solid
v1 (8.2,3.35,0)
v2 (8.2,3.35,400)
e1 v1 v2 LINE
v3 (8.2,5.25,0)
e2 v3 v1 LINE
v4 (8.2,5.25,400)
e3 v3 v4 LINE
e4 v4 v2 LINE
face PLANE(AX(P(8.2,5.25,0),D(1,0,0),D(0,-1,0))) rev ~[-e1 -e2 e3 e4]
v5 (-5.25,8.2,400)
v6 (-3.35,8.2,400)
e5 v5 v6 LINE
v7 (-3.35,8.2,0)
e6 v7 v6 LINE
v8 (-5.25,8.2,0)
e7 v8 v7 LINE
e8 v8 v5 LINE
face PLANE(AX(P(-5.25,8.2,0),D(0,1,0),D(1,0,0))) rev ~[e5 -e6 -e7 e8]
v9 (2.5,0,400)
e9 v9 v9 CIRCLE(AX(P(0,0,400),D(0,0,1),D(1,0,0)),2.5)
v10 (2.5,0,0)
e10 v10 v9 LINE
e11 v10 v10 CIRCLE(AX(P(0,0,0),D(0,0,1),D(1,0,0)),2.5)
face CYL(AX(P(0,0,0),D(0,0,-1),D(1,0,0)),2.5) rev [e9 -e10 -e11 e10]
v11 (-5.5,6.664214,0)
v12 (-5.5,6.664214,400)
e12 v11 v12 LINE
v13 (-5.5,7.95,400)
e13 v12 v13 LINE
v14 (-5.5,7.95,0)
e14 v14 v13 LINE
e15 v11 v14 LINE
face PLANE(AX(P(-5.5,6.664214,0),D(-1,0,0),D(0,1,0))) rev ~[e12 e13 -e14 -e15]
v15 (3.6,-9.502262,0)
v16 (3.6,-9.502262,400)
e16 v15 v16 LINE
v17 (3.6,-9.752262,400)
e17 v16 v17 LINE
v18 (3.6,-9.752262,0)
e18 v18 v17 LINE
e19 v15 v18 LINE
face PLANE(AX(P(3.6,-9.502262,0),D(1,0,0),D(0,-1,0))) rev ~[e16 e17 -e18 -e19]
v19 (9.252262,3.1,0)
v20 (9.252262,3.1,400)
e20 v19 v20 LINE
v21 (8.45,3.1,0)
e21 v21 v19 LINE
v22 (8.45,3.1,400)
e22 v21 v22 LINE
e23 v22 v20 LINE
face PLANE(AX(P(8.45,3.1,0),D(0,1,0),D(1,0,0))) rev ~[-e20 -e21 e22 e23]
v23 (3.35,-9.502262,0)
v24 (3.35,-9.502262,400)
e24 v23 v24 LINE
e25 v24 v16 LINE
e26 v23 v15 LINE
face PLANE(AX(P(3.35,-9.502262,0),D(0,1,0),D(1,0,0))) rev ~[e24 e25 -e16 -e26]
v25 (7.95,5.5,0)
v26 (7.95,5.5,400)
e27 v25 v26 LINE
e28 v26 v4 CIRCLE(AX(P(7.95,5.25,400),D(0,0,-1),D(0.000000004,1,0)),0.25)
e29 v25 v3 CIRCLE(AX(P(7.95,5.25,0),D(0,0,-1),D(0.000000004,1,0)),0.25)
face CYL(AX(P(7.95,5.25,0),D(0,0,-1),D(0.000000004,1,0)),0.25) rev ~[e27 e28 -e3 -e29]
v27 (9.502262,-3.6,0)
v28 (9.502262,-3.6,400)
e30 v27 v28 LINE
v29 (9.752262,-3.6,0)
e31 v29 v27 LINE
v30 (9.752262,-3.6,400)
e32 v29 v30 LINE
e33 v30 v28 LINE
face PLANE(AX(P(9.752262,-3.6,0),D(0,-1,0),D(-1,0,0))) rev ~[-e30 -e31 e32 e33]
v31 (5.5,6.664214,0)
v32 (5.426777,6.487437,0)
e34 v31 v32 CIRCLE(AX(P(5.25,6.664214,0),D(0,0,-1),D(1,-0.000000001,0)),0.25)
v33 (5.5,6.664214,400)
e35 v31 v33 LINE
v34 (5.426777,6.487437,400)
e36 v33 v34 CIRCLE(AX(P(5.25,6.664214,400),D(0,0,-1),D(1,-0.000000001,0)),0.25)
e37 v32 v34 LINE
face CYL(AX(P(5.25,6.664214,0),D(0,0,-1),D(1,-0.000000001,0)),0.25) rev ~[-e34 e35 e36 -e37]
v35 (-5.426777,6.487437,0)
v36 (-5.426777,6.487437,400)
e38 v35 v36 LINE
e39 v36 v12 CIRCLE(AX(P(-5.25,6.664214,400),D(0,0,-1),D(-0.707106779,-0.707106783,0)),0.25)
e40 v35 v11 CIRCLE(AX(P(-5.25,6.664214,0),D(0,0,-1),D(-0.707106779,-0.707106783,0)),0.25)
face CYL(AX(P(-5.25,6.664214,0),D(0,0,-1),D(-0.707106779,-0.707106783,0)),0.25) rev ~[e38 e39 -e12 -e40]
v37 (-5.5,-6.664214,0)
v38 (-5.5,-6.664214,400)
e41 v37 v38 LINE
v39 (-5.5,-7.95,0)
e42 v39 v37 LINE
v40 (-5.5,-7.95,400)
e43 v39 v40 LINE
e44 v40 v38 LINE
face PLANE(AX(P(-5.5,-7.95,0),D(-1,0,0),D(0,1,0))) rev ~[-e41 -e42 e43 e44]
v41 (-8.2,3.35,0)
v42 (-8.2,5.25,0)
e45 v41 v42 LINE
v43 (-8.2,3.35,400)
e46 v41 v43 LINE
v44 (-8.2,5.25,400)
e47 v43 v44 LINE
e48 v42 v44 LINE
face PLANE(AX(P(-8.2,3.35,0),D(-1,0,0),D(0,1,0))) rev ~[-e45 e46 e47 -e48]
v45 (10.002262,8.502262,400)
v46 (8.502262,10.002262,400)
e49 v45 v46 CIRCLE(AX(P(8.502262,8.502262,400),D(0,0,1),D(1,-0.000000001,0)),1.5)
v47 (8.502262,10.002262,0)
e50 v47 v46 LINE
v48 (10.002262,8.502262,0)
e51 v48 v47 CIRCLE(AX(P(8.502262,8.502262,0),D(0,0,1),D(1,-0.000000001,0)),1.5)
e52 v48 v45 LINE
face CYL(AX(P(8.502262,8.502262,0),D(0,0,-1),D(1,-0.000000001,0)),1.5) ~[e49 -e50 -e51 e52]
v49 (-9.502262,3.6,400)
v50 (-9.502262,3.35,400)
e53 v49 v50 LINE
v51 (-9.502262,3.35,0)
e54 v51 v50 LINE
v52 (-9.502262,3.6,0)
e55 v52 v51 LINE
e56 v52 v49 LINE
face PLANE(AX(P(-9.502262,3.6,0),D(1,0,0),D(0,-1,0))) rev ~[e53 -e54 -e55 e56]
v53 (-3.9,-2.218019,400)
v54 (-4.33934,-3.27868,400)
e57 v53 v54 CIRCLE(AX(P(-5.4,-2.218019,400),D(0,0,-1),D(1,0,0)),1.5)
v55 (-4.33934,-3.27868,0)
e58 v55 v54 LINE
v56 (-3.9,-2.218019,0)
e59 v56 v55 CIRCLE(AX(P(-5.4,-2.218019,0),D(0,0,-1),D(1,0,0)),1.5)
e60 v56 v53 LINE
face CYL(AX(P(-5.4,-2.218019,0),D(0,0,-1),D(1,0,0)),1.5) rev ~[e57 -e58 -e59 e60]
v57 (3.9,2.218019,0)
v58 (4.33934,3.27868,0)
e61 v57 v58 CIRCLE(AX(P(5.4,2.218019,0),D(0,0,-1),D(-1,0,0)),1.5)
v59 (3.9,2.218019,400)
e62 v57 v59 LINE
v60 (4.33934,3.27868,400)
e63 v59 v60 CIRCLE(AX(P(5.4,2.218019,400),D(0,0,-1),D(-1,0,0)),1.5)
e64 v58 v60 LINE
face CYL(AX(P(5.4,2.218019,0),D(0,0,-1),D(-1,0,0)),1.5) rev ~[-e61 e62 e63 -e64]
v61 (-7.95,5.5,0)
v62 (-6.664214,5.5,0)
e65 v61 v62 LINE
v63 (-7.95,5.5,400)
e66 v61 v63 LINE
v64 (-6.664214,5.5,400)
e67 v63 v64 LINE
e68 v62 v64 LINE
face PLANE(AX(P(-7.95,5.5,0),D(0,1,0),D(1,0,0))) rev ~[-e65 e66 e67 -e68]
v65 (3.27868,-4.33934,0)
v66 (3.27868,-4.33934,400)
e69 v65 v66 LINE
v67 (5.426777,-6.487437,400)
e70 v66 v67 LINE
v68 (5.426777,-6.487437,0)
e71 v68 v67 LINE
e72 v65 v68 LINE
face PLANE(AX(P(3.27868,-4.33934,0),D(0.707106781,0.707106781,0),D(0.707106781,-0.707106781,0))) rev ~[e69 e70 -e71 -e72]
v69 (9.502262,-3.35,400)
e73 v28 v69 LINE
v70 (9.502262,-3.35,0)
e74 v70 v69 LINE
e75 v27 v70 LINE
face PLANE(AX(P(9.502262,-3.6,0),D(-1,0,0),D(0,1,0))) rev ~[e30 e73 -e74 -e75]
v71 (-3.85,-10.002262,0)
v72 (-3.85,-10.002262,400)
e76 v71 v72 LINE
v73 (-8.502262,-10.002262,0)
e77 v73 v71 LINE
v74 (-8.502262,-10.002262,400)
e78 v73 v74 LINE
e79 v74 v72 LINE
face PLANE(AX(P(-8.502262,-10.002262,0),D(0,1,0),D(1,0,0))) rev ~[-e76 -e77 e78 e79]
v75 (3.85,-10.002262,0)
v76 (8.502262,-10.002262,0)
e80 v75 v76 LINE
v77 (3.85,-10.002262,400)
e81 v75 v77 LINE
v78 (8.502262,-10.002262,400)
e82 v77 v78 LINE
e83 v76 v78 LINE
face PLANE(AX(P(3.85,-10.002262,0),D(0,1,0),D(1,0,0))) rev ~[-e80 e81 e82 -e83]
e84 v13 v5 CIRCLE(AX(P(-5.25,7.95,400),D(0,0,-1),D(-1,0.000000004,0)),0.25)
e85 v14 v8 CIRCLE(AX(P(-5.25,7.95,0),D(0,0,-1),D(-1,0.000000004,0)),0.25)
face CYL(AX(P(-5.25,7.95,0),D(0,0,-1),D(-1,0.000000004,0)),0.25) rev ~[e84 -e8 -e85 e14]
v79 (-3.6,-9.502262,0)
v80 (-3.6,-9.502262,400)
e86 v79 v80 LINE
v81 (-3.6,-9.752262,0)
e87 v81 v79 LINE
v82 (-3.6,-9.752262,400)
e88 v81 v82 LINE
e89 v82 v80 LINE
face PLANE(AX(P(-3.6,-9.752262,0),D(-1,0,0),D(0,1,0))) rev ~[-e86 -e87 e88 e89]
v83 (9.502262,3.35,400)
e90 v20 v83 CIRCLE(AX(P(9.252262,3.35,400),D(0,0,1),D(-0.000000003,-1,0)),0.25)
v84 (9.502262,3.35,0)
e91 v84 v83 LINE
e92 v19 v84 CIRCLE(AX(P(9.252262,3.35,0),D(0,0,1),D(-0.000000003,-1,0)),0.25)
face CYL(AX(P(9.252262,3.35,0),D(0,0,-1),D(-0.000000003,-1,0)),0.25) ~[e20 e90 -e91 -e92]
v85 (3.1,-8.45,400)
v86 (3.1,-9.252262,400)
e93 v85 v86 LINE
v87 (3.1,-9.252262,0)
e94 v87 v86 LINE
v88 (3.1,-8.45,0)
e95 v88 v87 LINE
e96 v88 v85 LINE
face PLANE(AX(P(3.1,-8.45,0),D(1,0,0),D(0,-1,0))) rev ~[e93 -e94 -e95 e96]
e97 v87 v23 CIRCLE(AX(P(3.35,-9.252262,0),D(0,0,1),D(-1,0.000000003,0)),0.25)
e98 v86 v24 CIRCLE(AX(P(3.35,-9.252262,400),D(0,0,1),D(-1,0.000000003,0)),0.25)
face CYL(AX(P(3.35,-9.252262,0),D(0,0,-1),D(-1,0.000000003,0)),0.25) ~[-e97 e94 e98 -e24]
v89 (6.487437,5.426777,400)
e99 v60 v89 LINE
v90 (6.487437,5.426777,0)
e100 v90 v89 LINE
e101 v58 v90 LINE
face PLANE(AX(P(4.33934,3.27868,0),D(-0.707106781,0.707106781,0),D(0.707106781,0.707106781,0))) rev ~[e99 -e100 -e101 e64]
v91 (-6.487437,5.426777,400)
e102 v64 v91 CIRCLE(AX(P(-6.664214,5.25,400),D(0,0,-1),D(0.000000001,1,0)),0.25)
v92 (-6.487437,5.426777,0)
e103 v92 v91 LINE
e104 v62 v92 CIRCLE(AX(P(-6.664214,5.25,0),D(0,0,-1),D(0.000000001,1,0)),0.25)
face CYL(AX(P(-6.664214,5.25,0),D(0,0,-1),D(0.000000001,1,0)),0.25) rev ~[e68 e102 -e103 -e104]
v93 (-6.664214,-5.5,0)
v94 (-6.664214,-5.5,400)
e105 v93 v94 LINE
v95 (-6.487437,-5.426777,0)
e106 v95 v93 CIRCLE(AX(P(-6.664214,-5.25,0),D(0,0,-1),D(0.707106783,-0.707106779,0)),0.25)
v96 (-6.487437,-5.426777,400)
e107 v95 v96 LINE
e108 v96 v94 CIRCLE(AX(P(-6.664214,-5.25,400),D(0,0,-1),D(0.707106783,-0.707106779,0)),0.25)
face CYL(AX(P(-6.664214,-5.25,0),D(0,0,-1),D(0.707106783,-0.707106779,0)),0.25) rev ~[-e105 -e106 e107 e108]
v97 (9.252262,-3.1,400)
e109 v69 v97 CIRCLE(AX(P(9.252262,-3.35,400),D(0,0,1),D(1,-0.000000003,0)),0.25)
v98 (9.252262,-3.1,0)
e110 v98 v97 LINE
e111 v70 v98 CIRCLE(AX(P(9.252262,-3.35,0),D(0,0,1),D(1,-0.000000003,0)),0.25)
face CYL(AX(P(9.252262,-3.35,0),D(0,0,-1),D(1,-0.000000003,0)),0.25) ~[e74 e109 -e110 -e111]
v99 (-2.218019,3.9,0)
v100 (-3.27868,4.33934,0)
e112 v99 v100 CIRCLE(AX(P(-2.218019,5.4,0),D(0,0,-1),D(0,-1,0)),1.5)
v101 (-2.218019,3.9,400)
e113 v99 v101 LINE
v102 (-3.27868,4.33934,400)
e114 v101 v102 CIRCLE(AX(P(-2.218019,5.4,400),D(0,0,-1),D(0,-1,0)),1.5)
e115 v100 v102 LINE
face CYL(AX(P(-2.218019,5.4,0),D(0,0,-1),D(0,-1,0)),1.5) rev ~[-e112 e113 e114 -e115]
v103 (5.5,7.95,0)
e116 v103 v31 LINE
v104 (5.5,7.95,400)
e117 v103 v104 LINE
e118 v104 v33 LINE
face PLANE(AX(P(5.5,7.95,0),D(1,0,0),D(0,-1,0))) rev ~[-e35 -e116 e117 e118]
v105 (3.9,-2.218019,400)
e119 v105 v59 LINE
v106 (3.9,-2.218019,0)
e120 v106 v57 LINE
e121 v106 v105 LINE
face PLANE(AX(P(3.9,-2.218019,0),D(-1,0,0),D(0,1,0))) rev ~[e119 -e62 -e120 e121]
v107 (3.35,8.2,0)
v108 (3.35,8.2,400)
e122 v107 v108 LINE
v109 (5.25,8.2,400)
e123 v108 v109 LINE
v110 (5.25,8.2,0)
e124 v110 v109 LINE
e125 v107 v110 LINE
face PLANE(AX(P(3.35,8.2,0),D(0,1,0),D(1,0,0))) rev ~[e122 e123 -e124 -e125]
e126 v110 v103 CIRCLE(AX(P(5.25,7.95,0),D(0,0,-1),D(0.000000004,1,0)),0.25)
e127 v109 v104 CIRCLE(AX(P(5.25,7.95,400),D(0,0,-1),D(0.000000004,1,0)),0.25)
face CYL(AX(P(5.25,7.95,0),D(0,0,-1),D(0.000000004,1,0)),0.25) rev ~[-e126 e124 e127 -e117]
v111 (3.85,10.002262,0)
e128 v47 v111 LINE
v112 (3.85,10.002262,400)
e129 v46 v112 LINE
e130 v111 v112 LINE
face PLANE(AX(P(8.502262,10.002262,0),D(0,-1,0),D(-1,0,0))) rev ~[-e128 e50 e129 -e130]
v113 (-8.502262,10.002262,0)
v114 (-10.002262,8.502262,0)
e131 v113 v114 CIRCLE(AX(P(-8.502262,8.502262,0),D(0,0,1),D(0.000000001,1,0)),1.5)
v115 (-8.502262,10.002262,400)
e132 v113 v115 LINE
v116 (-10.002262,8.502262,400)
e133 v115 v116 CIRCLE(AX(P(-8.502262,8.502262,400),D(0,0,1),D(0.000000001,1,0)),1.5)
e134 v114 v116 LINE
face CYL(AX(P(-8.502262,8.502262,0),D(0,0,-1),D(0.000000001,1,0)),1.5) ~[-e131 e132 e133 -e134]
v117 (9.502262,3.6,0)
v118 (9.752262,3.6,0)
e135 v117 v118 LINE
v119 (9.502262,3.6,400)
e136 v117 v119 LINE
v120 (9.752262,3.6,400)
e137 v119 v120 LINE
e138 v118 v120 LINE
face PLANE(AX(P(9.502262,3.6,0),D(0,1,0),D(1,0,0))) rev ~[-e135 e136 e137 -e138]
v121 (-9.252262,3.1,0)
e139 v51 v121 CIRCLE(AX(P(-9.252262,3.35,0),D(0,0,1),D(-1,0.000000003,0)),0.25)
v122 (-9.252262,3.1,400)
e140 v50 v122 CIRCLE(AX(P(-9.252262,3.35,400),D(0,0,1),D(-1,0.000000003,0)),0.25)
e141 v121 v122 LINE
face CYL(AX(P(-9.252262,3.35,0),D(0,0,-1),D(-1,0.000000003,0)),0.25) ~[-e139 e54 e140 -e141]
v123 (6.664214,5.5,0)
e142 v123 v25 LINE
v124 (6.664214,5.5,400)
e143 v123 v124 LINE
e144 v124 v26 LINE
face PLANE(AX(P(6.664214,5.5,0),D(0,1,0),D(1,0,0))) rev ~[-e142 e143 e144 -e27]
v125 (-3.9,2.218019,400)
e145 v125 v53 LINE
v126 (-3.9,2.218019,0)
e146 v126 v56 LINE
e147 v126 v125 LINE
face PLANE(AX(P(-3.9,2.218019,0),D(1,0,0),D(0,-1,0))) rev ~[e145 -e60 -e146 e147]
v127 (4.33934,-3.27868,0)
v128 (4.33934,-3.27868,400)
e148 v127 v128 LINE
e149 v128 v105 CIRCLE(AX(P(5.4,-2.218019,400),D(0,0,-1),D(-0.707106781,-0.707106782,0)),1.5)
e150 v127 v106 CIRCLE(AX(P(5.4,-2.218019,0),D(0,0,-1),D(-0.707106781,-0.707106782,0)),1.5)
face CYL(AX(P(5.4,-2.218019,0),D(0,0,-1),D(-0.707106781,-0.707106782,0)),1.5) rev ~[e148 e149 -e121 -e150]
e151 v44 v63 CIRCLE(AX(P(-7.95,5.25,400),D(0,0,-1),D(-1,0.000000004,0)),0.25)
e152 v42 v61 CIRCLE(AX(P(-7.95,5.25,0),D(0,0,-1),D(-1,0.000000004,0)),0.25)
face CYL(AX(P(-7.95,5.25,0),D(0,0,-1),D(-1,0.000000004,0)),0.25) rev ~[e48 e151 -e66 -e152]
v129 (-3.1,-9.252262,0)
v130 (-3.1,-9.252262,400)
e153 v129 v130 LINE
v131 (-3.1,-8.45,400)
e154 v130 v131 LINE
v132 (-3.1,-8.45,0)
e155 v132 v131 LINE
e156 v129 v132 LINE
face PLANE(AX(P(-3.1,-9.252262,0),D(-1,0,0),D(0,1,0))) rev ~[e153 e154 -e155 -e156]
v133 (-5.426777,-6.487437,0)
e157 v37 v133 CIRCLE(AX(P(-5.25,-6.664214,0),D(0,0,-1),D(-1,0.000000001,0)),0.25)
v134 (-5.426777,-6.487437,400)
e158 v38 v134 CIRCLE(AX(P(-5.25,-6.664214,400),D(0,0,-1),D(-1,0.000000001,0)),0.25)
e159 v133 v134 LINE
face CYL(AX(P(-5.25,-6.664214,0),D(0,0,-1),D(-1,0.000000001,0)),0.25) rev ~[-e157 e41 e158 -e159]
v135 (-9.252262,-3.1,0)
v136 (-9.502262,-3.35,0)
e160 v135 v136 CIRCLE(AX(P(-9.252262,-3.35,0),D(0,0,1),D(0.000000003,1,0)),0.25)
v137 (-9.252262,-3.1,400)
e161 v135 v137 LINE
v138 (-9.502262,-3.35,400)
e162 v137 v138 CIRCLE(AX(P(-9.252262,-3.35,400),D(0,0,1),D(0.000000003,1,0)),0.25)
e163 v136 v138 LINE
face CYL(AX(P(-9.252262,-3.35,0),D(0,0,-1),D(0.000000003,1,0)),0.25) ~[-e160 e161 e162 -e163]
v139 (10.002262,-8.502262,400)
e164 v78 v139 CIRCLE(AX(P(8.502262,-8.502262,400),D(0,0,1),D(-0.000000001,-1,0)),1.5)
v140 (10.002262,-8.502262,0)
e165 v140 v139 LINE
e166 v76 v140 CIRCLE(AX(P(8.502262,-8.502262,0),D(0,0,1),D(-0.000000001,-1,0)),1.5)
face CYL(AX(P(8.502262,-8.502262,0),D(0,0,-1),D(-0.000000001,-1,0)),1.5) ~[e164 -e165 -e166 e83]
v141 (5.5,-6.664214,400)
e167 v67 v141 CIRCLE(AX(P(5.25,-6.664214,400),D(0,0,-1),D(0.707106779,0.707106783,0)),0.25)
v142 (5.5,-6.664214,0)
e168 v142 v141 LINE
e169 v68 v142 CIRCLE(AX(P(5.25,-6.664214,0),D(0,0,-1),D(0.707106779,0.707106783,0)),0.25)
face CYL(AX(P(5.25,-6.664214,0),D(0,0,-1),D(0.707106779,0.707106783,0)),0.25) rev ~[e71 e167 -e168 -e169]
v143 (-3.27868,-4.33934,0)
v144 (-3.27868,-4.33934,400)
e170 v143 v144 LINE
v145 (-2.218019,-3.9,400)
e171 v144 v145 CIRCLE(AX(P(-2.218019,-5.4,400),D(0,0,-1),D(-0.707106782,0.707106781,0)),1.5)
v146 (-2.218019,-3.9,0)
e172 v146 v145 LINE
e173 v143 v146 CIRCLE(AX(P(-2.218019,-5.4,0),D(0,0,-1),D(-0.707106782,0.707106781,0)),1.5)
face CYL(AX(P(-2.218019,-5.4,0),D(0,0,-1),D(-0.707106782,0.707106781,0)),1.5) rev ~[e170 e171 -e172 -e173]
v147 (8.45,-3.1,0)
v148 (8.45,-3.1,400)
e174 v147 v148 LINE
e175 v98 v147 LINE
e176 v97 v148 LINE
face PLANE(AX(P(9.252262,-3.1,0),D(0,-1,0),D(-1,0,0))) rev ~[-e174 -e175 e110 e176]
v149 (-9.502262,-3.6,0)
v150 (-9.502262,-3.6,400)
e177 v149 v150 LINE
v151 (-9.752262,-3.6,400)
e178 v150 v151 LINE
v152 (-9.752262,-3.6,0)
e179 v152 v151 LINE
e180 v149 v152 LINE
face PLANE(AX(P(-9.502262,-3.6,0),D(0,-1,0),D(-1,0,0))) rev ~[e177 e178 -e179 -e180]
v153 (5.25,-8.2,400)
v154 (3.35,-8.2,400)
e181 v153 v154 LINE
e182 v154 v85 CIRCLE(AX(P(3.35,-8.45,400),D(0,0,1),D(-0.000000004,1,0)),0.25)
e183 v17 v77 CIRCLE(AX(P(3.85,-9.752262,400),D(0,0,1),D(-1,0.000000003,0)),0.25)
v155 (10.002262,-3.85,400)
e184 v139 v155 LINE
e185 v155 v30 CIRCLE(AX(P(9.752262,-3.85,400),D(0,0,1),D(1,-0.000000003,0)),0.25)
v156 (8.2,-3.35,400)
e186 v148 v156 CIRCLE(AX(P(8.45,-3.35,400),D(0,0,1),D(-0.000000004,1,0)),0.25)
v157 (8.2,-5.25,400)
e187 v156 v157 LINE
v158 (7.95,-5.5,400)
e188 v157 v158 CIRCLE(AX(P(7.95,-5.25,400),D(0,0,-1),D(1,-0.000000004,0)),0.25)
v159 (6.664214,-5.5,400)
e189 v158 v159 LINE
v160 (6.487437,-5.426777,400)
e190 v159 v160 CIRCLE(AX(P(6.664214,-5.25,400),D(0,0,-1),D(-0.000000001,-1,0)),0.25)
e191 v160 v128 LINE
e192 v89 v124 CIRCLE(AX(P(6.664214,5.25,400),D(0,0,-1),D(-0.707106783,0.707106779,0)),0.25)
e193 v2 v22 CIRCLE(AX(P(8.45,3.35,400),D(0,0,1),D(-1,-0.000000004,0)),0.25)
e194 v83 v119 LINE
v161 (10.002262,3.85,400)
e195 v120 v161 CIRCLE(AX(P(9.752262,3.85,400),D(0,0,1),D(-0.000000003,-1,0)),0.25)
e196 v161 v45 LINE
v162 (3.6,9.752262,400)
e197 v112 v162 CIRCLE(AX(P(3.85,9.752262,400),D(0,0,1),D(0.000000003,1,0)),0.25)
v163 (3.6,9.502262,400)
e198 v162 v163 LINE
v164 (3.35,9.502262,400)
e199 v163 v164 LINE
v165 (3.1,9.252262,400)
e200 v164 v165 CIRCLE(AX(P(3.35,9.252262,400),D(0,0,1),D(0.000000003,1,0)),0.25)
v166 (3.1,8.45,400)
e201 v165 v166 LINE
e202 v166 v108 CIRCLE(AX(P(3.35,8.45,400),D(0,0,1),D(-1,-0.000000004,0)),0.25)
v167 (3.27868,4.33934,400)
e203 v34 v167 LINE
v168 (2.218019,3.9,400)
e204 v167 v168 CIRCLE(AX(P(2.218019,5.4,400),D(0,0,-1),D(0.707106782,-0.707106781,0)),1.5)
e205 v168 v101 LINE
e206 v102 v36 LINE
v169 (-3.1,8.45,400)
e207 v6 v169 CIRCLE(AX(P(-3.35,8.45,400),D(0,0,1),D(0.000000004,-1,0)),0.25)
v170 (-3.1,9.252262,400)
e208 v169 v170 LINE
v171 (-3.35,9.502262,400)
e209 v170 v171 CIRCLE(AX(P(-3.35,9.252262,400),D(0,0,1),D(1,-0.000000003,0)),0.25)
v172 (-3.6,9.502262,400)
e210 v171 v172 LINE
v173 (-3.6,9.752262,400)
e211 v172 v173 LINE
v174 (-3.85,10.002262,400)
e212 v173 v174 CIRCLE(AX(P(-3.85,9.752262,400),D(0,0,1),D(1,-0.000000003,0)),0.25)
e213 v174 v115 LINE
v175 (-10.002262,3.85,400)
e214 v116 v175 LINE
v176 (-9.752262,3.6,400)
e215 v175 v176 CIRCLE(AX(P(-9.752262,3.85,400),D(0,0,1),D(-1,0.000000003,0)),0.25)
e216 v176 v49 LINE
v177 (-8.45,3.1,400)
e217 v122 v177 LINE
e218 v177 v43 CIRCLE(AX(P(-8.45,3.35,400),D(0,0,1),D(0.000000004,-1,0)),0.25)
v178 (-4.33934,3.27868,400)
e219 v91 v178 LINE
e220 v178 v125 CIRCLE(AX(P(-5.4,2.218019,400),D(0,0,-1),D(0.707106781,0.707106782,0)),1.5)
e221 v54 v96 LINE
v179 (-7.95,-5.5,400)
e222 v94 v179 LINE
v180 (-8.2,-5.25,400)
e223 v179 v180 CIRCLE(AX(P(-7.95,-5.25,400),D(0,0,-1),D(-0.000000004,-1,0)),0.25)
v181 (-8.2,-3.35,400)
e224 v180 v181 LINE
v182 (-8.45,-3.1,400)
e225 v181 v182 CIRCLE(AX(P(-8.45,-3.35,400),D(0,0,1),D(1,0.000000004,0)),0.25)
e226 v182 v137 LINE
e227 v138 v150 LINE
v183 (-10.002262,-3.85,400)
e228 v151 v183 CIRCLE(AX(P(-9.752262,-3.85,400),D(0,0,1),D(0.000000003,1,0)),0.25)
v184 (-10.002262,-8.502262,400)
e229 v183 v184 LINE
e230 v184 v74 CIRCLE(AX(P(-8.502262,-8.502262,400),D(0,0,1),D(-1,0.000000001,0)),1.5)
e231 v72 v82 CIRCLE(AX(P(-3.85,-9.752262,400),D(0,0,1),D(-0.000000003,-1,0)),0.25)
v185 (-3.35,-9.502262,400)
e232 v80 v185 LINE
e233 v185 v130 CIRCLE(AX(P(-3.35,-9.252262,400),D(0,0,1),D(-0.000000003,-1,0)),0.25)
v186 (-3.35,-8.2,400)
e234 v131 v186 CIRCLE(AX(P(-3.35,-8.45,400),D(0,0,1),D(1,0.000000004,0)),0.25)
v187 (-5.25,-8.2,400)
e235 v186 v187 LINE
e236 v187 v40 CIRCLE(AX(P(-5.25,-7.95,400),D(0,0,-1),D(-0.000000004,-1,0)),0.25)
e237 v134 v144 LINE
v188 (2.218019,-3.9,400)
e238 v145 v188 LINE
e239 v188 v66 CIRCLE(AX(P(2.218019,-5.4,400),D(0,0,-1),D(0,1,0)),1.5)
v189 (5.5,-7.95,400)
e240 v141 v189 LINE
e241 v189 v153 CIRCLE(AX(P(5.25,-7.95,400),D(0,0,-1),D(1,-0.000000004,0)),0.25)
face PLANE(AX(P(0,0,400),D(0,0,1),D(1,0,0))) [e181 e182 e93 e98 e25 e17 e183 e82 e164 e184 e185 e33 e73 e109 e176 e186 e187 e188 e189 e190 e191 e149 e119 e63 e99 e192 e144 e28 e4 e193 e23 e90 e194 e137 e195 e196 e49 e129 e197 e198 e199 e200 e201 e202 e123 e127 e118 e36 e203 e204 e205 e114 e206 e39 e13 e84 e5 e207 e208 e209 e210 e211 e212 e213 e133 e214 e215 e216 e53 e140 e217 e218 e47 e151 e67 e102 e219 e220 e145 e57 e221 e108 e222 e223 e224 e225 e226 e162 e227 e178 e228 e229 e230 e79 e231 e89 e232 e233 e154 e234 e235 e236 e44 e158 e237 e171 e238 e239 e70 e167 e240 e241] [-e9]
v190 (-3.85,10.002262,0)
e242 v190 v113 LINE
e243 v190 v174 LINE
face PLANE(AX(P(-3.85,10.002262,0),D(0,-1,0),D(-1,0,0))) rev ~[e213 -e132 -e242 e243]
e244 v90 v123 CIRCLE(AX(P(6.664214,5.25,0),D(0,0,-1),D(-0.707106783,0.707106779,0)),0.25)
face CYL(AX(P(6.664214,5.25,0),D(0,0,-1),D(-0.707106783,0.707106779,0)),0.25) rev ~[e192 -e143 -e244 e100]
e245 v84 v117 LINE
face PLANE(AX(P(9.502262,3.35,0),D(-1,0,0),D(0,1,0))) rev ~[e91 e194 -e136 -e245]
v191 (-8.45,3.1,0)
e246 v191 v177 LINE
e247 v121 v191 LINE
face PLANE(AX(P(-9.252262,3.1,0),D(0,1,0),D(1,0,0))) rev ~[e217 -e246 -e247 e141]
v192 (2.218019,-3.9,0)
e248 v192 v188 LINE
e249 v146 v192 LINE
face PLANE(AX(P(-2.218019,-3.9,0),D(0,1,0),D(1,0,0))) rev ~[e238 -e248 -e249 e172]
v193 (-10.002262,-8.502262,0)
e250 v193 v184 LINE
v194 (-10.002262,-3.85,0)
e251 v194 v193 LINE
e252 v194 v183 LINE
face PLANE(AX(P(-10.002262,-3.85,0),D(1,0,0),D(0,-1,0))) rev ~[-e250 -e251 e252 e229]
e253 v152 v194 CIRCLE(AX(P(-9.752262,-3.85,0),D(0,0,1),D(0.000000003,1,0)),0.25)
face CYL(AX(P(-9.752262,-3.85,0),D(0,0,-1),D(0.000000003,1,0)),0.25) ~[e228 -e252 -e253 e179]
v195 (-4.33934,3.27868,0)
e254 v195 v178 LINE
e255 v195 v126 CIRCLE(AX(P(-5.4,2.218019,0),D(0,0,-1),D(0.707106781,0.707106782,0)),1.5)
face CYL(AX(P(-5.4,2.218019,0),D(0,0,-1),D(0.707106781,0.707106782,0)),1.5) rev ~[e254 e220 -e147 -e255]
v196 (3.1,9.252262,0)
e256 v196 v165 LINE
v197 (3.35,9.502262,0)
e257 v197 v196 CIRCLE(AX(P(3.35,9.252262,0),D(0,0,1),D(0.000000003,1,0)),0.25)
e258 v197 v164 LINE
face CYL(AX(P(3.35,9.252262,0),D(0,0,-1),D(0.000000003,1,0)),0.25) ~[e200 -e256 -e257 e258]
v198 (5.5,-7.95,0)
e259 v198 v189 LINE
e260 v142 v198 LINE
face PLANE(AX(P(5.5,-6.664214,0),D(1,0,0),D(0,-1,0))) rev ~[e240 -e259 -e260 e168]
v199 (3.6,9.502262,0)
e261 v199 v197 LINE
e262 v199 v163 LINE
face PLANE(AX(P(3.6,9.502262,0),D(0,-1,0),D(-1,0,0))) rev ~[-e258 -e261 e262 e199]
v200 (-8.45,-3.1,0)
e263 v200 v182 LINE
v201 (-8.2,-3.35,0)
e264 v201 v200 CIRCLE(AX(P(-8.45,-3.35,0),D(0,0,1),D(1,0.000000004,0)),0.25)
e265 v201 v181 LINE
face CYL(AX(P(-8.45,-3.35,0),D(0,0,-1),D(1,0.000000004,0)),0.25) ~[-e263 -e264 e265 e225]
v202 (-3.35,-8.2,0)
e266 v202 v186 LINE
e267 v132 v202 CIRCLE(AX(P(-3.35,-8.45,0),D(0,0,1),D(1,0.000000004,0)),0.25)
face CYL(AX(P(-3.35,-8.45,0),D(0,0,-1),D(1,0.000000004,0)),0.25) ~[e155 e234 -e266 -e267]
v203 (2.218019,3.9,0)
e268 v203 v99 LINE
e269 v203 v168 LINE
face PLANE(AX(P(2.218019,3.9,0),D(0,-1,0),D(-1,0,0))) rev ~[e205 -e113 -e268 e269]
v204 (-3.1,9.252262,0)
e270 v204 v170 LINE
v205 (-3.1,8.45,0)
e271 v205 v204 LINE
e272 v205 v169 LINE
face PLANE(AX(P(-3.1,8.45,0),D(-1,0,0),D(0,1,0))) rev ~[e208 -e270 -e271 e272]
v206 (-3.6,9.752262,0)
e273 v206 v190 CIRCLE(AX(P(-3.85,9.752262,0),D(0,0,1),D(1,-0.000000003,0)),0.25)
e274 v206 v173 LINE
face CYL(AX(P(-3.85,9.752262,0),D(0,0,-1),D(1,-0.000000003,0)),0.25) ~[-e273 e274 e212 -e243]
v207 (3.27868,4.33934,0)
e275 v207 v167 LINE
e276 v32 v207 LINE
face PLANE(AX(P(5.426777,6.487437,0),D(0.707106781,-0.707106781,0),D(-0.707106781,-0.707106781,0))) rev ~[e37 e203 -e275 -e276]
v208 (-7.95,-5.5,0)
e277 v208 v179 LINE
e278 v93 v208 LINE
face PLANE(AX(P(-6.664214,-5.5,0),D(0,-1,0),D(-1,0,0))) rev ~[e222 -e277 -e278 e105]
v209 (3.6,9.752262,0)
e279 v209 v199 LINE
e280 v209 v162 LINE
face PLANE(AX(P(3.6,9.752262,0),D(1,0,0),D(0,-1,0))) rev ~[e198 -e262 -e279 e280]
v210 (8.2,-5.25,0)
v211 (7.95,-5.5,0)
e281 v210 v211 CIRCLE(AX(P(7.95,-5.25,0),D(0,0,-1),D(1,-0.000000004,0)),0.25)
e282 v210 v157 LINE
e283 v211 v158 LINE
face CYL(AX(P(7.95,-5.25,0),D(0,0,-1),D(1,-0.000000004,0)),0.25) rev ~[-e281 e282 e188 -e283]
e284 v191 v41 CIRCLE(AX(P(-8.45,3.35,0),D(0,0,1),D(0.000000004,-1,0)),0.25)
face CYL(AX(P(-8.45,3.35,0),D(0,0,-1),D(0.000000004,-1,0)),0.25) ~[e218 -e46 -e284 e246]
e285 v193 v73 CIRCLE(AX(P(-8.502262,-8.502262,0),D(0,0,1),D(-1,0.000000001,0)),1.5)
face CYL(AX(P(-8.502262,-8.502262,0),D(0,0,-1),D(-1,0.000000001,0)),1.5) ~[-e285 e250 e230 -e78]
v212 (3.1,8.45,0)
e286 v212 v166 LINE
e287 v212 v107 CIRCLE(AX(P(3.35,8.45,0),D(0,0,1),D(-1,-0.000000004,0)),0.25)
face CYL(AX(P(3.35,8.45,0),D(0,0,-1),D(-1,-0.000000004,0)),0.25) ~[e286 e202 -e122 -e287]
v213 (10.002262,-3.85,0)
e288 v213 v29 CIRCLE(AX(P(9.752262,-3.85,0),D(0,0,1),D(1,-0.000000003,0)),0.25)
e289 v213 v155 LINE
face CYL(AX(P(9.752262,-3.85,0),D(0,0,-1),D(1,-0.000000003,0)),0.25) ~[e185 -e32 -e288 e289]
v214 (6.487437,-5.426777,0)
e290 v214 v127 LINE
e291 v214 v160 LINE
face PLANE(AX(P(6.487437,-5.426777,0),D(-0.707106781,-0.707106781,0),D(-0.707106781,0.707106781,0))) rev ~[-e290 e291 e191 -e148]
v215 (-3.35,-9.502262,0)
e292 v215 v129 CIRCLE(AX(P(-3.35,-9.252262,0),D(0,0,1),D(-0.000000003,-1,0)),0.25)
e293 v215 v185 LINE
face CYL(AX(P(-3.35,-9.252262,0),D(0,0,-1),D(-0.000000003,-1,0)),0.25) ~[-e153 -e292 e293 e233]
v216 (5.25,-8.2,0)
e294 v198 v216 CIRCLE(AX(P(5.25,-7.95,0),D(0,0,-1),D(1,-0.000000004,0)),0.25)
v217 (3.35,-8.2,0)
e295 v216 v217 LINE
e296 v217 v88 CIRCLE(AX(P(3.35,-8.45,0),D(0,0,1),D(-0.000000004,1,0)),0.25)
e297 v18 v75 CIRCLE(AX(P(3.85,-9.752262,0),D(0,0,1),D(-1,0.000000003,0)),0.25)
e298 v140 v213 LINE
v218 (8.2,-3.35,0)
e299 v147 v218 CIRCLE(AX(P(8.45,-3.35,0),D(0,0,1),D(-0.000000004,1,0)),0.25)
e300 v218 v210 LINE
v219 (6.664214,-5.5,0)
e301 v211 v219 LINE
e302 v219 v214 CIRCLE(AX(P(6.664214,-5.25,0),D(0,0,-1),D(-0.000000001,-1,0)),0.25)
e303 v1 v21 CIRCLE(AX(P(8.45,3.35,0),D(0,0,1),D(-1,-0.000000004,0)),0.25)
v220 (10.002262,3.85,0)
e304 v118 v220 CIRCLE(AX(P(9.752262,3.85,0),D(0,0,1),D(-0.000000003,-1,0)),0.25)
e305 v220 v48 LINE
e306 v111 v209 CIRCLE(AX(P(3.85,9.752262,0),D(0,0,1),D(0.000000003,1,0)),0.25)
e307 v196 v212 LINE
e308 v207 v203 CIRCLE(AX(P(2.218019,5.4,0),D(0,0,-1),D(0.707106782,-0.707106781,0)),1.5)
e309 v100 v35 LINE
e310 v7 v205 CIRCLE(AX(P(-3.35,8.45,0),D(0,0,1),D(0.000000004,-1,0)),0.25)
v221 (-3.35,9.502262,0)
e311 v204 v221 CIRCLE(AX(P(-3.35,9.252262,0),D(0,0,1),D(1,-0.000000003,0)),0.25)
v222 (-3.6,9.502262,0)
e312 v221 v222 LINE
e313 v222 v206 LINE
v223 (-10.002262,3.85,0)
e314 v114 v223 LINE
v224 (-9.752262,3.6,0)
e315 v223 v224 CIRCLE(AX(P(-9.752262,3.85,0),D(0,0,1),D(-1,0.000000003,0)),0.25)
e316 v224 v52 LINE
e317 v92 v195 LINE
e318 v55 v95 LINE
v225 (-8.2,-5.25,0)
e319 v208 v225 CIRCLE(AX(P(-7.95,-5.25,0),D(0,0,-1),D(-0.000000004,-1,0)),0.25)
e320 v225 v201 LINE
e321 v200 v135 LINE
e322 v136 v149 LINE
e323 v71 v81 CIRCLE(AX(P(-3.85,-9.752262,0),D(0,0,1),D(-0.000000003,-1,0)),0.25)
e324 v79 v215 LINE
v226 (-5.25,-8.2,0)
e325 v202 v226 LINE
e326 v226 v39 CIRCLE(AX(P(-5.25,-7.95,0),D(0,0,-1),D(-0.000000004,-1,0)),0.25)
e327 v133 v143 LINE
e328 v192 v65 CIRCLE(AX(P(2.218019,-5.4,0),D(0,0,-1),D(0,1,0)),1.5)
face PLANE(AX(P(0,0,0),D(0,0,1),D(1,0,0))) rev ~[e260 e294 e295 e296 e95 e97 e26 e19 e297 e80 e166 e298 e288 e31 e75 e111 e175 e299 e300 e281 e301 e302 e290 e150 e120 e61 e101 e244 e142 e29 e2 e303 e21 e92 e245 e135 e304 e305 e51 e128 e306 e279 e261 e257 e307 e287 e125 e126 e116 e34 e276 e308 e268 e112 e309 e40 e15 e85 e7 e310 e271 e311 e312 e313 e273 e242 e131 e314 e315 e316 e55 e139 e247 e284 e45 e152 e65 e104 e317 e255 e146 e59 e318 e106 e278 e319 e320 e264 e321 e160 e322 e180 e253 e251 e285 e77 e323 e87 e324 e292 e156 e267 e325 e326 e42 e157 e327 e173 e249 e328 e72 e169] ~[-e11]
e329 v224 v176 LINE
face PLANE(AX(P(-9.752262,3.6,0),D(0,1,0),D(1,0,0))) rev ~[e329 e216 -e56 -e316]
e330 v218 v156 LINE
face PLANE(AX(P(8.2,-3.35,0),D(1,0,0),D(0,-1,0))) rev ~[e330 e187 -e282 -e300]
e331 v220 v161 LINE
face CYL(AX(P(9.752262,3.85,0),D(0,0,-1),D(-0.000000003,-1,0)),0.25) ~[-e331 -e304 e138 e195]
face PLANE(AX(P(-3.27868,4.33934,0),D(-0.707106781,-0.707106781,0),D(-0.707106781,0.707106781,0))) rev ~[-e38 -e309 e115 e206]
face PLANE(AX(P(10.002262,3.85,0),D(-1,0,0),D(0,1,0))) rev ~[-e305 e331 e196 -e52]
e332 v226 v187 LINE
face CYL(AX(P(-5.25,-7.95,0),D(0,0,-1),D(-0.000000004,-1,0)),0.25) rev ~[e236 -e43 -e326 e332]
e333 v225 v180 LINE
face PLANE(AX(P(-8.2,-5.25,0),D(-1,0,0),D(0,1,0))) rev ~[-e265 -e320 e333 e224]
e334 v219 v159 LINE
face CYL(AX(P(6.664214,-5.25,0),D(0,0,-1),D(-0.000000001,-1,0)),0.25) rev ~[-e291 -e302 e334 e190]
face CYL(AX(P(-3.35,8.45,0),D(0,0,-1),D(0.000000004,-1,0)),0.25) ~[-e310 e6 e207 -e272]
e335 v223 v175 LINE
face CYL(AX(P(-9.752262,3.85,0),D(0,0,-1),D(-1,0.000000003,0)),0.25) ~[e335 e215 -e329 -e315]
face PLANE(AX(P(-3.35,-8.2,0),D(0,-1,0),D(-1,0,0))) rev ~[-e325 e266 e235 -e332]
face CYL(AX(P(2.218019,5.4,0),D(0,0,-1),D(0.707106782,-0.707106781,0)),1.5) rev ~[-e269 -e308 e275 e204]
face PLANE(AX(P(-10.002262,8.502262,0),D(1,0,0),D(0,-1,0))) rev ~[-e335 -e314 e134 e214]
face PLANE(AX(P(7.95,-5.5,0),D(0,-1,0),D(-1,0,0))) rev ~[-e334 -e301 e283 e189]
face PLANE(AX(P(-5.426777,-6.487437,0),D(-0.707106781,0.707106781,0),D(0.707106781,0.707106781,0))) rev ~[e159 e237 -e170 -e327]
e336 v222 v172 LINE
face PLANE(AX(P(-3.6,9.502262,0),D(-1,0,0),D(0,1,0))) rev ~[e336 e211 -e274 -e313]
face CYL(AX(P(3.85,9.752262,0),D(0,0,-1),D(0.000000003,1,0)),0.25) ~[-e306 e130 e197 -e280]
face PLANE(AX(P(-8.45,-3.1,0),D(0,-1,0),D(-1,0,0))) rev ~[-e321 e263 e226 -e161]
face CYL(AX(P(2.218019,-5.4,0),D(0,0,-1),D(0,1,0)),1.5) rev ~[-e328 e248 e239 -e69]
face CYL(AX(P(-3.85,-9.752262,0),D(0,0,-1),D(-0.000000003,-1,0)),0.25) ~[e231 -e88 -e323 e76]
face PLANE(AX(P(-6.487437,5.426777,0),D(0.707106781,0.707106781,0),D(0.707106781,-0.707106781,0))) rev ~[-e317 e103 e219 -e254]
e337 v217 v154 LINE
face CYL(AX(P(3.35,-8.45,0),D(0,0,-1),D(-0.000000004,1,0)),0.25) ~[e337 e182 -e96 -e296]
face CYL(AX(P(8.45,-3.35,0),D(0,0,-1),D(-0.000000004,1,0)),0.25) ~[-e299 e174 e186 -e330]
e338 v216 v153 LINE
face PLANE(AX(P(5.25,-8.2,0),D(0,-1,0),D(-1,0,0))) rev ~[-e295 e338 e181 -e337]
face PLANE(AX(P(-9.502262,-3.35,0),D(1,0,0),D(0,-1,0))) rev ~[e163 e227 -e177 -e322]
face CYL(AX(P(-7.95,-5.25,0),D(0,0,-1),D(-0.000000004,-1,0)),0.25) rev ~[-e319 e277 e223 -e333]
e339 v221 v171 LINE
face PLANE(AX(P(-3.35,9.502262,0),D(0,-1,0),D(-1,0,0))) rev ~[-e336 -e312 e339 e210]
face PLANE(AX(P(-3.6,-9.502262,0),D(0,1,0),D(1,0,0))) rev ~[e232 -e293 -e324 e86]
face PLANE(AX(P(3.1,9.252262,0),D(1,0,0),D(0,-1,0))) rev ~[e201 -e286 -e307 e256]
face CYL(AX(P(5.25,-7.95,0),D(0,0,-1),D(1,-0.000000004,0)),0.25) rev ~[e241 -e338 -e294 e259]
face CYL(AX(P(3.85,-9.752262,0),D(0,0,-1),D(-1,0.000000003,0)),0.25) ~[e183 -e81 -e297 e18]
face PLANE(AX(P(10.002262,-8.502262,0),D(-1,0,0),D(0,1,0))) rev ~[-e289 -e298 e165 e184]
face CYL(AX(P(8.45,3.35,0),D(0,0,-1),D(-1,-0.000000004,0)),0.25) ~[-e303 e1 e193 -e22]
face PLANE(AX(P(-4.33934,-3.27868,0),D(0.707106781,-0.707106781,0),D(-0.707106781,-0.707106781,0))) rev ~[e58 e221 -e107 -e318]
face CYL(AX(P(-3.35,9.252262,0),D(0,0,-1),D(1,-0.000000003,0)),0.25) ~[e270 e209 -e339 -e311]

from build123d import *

# Parameters (mm, degrees)
SKETCH_1_R      = 2.5
EXTRUDE_1_DEPTH = 400


with BuildPart() as part:
    # 草图1 → 凸台-拉伸1 (new body)
    with BuildSketch(Plane.XY):
        with BuildLine():
            Line((-8.502261885, -10.002261885), (-3.85, -10.002261885))
            ThreePointArc((-3.85, -10.002261885), (-3.673223305, -9.929038581), (-3.6, -9.752261885))
            Line((-3.6, -9.752261885), (-3.6, -9.502261885))
            Line((-3.6, -9.502261885), (-3.35, -9.502261885))
            ThreePointArc((-3.35, -9.502261885), (-3.173223305, -9.429038581), (-3.1, -9.252261885))
            Line((-3.1, -9.252261885), (-3.1, -8.45))
            ThreePointArc((-3.1, -8.45), (-3.173223305, -8.273223305), (-3.35, -8.2))
            Line((-3.35, -8.2), (-5.25, -8.2))
            ThreePointArc((-5.25, -8.2), (-5.426776695, -8.126776695), (-5.5, -7.95))
            Line((-5.5, -7.95), (-5.5, -6.664213562))
            ThreePointArc((-5.5, -6.664213562), (-5.480969883, -6.568542704), (-5.426776695, -6.487436867))
            Line((-5.426776695, -6.487436867), (-3.278679656, -4.339339828))
            ThreePointArc((-3.278679656, -4.339339828), (-2.792044633, -4.014180701), (-2.218019485, -3.9))
            Line((-2.218019485, -3.9), (2.218019485, -3.9))
            ThreePointArc((2.218019485, -3.9), (2.792044633, -4.014180701), (3.278679656, -4.339339828))
            Line((3.278679656, -4.339339828), (5.426776695, -6.487436867))
            ThreePointArc((5.426776695, -6.487436867), (5.480969883, -6.568542704), (5.5, -6.664213562))
            Line((5.5, -6.664213562), (5.5, -7.95))
            ThreePointArc((5.5, -7.95), (5.426776695, -8.126776695), (5.25, -8.2))
            Line((5.25, -8.2), (3.35, -8.2))
            ThreePointArc((3.35, -8.2), (3.173223305, -8.273223305), (3.1, -8.45))
            Line((3.1, -8.45), (3.1, -9.252261885))
            ThreePointArc((3.1, -9.252261885), (3.173223305, -9.429038581), (3.35, -9.502261885))
            Line((3.35, -9.502261885), (3.6, -9.502261885))
            Line((3.6, -9.502261885), (3.6, -9.752261885))
            ThreePointArc((3.6, -9.752261885), (3.673223305, -9.929038581), (3.85, -10.002261885))
            Line((3.85, -10.002261885), (8.502261885, -10.002261885))
            ThreePointArc((8.502261885, -10.002261885), (9.562922057, -9.562922057), (10.002261885, -8.502261885))
            Line((10.002261885, -8.502261885), (10.002261885, -3.85))
            ThreePointArc((10.002261885, -3.85), (9.929038581, -3.673223305), (9.752261885, -3.6))
            Line((9.752261885, -3.6), (9.502261885, -3.6))
            Line((9.502261885, -3.6), (9.502261885, -3.35))
            ThreePointArc((9.502261885, -3.35), (9.429038581, -3.173223305), (9.252261885, -3.1))
            Line((9.252261885, -3.1), (8.45, -3.1))
            ThreePointArc((8.45, -3.1), (8.273223305, -3.173223305), (8.2, -3.35))
            Line((8.2, -3.35), (8.2, -5.25))
            ThreePointArc((8.2, -5.25), (8.126776695, -5.426776695), (7.95, -5.5))
            Line((7.95, -5.5), (6.664213562, -5.5))
            ThreePointArc((6.664213562, -5.5), (6.568542704, -5.480969883), (6.487436867, -5.426776695))
            Line((6.487436867, -5.426776695), (4.339339828, -3.278679656))
            ThreePointArc((4.339339828, -3.278679656), (4.014180701, -2.792044633), (3.9, -2.218019485))
            Line((3.9, -2.218019485), (3.9, 2.218019485))
            ThreePointArc((3.9, 2.218019485), (4.014180701, 2.792044633), (4.339339828, 3.278679656))
            Line((4.339339828, 3.278679656), (6.487436867, 5.426776695))
            ThreePointArc((6.487436867, 5.426776695), (6.568542704, 5.480969883), (6.664213562, 5.5))
            Line((6.664213562, 5.5), (7.95, 5.5))
            ThreePointArc((7.95, 5.5), (8.126776695, 5.426776695), (8.2, 5.25))
            Line((8.2, 5.25), (8.2, 3.35))
            ThreePointArc((8.2, 3.35), (8.273223305, 3.173223305), (8.45, 3.1))
            Line((8.45, 3.1), (9.252261885, 3.1))
            ThreePointArc((9.252261885, 3.1), (9.429038581, 3.173223305), (9.502261885, 3.35))
            Line((9.502261885, 3.35), (9.502261885, 3.6))
            Line((9.502261885, 3.6), (9.752261885, 3.6))
            ThreePointArc((9.752261885, 3.6), (9.929038581, 3.673223305), (10.002261885, 3.85))
            Line((10.002261885, 3.85), (10.002261885, 8.502261885))
            ThreePointArc((10.002261885, 8.502261885), (9.562922057, 9.562922057), (8.502261885, 10.002261885))
            Line((8.502261885, 10.002261885), (3.85, 10.002261885))
            ThreePointArc((3.85, 10.002261885), (3.673223305, 9.929038581), (3.6, 9.752261885))
            Line((3.6, 9.752261885), (3.6, 9.502261885))
            Line((3.6, 9.502261885), (3.35, 9.502261885))
            ThreePointArc((3.35, 9.502261885), (3.173223305, 9.429038581), (3.1, 9.252261885))
            Line((3.1, 9.252261885), (3.1, 8.45))
            ThreePointArc((3.1, 8.45), (3.173223305, 8.273223305), (3.35, 8.2))
            Line((3.35, 8.2), (5.25, 8.2))
            ThreePointArc((5.25, 8.2), (5.426776695, 8.126776695), (5.5, 7.95))
            Line((5.5, 7.95), (5.5, 6.664213562))
            ThreePointArc((5.5, 6.664213562), (5.480969883, 6.568542704), (5.426776695, 6.487436867))
            Line((5.426776695, 6.487436867), (3.278679656, 4.339339828))
            ThreePointArc((3.278679656, 4.339339828), (2.792044633, 4.014180701), (2.218019485, 3.9))
            Line((2.218019485, 3.9), (-2.218019485, 3.9))
            ThreePointArc((-2.218019485, 3.9), (-2.792044633, 4.014180701), (-3.278679656, 4.339339828))
            Line((-3.278679656, 4.339339828), (-5.426776695, 6.487436867))
            ThreePointArc((-5.426776695, 6.487436867), (-5.480969883, 6.568542704), (-5.5, 6.664213562))
            Line((-5.5, 6.664213562), (-5.5, 7.95))
            ThreePointArc((-5.5, 7.95), (-5.426776695, 8.126776695), (-5.25, 8.2))
            Line((-5.25, 8.2), (-3.35, 8.2))
            ThreePointArc((-3.35, 8.2), (-3.173223305, 8.273223305), (-3.1, 8.45))
            Line((-3.1, 8.45), (-3.1, 9.252261885))
            ThreePointArc((-3.1, 9.252261885), (-3.173223305, 9.429038581), (-3.35, 9.502261885))
            Line((-3.35, 9.502261885), (-3.6, 9.502261885))
            Line((-3.6, 9.502261885), (-3.6, 9.752261885))
            ThreePointArc((-3.6, 9.752261885), (-3.673223305, 9.929038581), (-3.85, 10.002261885))
            Line((-3.85, 10.002261885), (-8.502261885, 10.002261885))
            ThreePointArc((-8.502261885, 10.002261885), (-9.562922057, 9.562922057), (-10.002261885, 8.502261885))
            Line((-10.002261885, 8.502261885), (-10.002261885, 3.85))
            ThreePointArc((-10.002261885, 3.85), (-9.929038581, 3.673223305), (-9.752261885, 3.6))
            Line((-9.752261885, 3.6), (-9.502261885, 3.6))
            Line((-9.502261885, 3.6), (-9.502261885, 3.35))
            ThreePointArc((-9.502261885, 3.35), (-9.429038581, 3.173223305), (-9.252261885, 3.1))
            Line((-9.252261885, 3.1), (-8.45, 3.1))
            ThreePointArc((-8.45, 3.1), (-8.273223305, 3.173223305), (-8.2, 3.35))
            Line((-8.2, 3.35), (-8.2, 5.25))
            ThreePointArc((-8.2, 5.25), (-8.126776695, 5.426776695), (-7.95, 5.5))
            Line((-7.95, 5.5), (-6.664213562, 5.5))
            ThreePointArc((-6.664213562, 5.5), (-6.568542704, 5.480969883), (-6.487436867, 5.426776695))
            Line((-6.487436867, 5.426776695), (-4.339339828, 3.278679656))
            ThreePointArc((-4.339339828, 3.278679656), (-4.014180701, 2.792044633), (-3.9, 2.218019485))
            Line((-3.9, 2.218019485), (-3.9, -2.218019485))
            ThreePointArc((-3.9, -2.218019485), (-4.014180701, -2.792044633), (-4.339339828, -3.278679656))
            Line((-4.339339828, -3.278679656), (-6.487436867, -5.426776695))
            ThreePointArc((-6.487436867, -5.426776695), (-6.568542704, -5.480969883), (-6.664213562, -5.5))
            Line((-6.664213562, -5.5), (-7.95, -5.5))
            ThreePointArc((-7.95, -5.5), (-8.126776695, -5.426776695), (-8.2, -5.25))
            Line((-8.2, -5.25), (-8.2, -3.35))
            ThreePointArc((-8.2, -3.35), (-8.273223305, -3.173223305), (-8.45, -3.1))
            Line((-8.45, -3.1), (-9.252261885, -3.1))
            ThreePointArc((-9.252261885, -3.1), (-9.429038581, -3.173223305), (-9.502261885, -3.35))
            Line((-9.502261885, -3.35), (-9.502261885, -3.6))
            Line((-9.502261885, -3.6), (-9.752261885, -3.6))
            ThreePointArc((-9.752261885, -3.6), (-9.929038581, -3.673223305), (-10.002261885, -3.85))
            Line((-10.002261885, -3.85), (-10.002261885, -8.502261885))
            ThreePointArc((-10.002261885, -8.502261885), (-9.562922057, -9.562922057), (-8.502261885, -10.002261885))
        make_face()
        Circle(SKETCH_1_R, mode=Mode.SUBTRACT)
    extrude(amount=EXTRUDE_1_DEPTH)


solid = part.part
